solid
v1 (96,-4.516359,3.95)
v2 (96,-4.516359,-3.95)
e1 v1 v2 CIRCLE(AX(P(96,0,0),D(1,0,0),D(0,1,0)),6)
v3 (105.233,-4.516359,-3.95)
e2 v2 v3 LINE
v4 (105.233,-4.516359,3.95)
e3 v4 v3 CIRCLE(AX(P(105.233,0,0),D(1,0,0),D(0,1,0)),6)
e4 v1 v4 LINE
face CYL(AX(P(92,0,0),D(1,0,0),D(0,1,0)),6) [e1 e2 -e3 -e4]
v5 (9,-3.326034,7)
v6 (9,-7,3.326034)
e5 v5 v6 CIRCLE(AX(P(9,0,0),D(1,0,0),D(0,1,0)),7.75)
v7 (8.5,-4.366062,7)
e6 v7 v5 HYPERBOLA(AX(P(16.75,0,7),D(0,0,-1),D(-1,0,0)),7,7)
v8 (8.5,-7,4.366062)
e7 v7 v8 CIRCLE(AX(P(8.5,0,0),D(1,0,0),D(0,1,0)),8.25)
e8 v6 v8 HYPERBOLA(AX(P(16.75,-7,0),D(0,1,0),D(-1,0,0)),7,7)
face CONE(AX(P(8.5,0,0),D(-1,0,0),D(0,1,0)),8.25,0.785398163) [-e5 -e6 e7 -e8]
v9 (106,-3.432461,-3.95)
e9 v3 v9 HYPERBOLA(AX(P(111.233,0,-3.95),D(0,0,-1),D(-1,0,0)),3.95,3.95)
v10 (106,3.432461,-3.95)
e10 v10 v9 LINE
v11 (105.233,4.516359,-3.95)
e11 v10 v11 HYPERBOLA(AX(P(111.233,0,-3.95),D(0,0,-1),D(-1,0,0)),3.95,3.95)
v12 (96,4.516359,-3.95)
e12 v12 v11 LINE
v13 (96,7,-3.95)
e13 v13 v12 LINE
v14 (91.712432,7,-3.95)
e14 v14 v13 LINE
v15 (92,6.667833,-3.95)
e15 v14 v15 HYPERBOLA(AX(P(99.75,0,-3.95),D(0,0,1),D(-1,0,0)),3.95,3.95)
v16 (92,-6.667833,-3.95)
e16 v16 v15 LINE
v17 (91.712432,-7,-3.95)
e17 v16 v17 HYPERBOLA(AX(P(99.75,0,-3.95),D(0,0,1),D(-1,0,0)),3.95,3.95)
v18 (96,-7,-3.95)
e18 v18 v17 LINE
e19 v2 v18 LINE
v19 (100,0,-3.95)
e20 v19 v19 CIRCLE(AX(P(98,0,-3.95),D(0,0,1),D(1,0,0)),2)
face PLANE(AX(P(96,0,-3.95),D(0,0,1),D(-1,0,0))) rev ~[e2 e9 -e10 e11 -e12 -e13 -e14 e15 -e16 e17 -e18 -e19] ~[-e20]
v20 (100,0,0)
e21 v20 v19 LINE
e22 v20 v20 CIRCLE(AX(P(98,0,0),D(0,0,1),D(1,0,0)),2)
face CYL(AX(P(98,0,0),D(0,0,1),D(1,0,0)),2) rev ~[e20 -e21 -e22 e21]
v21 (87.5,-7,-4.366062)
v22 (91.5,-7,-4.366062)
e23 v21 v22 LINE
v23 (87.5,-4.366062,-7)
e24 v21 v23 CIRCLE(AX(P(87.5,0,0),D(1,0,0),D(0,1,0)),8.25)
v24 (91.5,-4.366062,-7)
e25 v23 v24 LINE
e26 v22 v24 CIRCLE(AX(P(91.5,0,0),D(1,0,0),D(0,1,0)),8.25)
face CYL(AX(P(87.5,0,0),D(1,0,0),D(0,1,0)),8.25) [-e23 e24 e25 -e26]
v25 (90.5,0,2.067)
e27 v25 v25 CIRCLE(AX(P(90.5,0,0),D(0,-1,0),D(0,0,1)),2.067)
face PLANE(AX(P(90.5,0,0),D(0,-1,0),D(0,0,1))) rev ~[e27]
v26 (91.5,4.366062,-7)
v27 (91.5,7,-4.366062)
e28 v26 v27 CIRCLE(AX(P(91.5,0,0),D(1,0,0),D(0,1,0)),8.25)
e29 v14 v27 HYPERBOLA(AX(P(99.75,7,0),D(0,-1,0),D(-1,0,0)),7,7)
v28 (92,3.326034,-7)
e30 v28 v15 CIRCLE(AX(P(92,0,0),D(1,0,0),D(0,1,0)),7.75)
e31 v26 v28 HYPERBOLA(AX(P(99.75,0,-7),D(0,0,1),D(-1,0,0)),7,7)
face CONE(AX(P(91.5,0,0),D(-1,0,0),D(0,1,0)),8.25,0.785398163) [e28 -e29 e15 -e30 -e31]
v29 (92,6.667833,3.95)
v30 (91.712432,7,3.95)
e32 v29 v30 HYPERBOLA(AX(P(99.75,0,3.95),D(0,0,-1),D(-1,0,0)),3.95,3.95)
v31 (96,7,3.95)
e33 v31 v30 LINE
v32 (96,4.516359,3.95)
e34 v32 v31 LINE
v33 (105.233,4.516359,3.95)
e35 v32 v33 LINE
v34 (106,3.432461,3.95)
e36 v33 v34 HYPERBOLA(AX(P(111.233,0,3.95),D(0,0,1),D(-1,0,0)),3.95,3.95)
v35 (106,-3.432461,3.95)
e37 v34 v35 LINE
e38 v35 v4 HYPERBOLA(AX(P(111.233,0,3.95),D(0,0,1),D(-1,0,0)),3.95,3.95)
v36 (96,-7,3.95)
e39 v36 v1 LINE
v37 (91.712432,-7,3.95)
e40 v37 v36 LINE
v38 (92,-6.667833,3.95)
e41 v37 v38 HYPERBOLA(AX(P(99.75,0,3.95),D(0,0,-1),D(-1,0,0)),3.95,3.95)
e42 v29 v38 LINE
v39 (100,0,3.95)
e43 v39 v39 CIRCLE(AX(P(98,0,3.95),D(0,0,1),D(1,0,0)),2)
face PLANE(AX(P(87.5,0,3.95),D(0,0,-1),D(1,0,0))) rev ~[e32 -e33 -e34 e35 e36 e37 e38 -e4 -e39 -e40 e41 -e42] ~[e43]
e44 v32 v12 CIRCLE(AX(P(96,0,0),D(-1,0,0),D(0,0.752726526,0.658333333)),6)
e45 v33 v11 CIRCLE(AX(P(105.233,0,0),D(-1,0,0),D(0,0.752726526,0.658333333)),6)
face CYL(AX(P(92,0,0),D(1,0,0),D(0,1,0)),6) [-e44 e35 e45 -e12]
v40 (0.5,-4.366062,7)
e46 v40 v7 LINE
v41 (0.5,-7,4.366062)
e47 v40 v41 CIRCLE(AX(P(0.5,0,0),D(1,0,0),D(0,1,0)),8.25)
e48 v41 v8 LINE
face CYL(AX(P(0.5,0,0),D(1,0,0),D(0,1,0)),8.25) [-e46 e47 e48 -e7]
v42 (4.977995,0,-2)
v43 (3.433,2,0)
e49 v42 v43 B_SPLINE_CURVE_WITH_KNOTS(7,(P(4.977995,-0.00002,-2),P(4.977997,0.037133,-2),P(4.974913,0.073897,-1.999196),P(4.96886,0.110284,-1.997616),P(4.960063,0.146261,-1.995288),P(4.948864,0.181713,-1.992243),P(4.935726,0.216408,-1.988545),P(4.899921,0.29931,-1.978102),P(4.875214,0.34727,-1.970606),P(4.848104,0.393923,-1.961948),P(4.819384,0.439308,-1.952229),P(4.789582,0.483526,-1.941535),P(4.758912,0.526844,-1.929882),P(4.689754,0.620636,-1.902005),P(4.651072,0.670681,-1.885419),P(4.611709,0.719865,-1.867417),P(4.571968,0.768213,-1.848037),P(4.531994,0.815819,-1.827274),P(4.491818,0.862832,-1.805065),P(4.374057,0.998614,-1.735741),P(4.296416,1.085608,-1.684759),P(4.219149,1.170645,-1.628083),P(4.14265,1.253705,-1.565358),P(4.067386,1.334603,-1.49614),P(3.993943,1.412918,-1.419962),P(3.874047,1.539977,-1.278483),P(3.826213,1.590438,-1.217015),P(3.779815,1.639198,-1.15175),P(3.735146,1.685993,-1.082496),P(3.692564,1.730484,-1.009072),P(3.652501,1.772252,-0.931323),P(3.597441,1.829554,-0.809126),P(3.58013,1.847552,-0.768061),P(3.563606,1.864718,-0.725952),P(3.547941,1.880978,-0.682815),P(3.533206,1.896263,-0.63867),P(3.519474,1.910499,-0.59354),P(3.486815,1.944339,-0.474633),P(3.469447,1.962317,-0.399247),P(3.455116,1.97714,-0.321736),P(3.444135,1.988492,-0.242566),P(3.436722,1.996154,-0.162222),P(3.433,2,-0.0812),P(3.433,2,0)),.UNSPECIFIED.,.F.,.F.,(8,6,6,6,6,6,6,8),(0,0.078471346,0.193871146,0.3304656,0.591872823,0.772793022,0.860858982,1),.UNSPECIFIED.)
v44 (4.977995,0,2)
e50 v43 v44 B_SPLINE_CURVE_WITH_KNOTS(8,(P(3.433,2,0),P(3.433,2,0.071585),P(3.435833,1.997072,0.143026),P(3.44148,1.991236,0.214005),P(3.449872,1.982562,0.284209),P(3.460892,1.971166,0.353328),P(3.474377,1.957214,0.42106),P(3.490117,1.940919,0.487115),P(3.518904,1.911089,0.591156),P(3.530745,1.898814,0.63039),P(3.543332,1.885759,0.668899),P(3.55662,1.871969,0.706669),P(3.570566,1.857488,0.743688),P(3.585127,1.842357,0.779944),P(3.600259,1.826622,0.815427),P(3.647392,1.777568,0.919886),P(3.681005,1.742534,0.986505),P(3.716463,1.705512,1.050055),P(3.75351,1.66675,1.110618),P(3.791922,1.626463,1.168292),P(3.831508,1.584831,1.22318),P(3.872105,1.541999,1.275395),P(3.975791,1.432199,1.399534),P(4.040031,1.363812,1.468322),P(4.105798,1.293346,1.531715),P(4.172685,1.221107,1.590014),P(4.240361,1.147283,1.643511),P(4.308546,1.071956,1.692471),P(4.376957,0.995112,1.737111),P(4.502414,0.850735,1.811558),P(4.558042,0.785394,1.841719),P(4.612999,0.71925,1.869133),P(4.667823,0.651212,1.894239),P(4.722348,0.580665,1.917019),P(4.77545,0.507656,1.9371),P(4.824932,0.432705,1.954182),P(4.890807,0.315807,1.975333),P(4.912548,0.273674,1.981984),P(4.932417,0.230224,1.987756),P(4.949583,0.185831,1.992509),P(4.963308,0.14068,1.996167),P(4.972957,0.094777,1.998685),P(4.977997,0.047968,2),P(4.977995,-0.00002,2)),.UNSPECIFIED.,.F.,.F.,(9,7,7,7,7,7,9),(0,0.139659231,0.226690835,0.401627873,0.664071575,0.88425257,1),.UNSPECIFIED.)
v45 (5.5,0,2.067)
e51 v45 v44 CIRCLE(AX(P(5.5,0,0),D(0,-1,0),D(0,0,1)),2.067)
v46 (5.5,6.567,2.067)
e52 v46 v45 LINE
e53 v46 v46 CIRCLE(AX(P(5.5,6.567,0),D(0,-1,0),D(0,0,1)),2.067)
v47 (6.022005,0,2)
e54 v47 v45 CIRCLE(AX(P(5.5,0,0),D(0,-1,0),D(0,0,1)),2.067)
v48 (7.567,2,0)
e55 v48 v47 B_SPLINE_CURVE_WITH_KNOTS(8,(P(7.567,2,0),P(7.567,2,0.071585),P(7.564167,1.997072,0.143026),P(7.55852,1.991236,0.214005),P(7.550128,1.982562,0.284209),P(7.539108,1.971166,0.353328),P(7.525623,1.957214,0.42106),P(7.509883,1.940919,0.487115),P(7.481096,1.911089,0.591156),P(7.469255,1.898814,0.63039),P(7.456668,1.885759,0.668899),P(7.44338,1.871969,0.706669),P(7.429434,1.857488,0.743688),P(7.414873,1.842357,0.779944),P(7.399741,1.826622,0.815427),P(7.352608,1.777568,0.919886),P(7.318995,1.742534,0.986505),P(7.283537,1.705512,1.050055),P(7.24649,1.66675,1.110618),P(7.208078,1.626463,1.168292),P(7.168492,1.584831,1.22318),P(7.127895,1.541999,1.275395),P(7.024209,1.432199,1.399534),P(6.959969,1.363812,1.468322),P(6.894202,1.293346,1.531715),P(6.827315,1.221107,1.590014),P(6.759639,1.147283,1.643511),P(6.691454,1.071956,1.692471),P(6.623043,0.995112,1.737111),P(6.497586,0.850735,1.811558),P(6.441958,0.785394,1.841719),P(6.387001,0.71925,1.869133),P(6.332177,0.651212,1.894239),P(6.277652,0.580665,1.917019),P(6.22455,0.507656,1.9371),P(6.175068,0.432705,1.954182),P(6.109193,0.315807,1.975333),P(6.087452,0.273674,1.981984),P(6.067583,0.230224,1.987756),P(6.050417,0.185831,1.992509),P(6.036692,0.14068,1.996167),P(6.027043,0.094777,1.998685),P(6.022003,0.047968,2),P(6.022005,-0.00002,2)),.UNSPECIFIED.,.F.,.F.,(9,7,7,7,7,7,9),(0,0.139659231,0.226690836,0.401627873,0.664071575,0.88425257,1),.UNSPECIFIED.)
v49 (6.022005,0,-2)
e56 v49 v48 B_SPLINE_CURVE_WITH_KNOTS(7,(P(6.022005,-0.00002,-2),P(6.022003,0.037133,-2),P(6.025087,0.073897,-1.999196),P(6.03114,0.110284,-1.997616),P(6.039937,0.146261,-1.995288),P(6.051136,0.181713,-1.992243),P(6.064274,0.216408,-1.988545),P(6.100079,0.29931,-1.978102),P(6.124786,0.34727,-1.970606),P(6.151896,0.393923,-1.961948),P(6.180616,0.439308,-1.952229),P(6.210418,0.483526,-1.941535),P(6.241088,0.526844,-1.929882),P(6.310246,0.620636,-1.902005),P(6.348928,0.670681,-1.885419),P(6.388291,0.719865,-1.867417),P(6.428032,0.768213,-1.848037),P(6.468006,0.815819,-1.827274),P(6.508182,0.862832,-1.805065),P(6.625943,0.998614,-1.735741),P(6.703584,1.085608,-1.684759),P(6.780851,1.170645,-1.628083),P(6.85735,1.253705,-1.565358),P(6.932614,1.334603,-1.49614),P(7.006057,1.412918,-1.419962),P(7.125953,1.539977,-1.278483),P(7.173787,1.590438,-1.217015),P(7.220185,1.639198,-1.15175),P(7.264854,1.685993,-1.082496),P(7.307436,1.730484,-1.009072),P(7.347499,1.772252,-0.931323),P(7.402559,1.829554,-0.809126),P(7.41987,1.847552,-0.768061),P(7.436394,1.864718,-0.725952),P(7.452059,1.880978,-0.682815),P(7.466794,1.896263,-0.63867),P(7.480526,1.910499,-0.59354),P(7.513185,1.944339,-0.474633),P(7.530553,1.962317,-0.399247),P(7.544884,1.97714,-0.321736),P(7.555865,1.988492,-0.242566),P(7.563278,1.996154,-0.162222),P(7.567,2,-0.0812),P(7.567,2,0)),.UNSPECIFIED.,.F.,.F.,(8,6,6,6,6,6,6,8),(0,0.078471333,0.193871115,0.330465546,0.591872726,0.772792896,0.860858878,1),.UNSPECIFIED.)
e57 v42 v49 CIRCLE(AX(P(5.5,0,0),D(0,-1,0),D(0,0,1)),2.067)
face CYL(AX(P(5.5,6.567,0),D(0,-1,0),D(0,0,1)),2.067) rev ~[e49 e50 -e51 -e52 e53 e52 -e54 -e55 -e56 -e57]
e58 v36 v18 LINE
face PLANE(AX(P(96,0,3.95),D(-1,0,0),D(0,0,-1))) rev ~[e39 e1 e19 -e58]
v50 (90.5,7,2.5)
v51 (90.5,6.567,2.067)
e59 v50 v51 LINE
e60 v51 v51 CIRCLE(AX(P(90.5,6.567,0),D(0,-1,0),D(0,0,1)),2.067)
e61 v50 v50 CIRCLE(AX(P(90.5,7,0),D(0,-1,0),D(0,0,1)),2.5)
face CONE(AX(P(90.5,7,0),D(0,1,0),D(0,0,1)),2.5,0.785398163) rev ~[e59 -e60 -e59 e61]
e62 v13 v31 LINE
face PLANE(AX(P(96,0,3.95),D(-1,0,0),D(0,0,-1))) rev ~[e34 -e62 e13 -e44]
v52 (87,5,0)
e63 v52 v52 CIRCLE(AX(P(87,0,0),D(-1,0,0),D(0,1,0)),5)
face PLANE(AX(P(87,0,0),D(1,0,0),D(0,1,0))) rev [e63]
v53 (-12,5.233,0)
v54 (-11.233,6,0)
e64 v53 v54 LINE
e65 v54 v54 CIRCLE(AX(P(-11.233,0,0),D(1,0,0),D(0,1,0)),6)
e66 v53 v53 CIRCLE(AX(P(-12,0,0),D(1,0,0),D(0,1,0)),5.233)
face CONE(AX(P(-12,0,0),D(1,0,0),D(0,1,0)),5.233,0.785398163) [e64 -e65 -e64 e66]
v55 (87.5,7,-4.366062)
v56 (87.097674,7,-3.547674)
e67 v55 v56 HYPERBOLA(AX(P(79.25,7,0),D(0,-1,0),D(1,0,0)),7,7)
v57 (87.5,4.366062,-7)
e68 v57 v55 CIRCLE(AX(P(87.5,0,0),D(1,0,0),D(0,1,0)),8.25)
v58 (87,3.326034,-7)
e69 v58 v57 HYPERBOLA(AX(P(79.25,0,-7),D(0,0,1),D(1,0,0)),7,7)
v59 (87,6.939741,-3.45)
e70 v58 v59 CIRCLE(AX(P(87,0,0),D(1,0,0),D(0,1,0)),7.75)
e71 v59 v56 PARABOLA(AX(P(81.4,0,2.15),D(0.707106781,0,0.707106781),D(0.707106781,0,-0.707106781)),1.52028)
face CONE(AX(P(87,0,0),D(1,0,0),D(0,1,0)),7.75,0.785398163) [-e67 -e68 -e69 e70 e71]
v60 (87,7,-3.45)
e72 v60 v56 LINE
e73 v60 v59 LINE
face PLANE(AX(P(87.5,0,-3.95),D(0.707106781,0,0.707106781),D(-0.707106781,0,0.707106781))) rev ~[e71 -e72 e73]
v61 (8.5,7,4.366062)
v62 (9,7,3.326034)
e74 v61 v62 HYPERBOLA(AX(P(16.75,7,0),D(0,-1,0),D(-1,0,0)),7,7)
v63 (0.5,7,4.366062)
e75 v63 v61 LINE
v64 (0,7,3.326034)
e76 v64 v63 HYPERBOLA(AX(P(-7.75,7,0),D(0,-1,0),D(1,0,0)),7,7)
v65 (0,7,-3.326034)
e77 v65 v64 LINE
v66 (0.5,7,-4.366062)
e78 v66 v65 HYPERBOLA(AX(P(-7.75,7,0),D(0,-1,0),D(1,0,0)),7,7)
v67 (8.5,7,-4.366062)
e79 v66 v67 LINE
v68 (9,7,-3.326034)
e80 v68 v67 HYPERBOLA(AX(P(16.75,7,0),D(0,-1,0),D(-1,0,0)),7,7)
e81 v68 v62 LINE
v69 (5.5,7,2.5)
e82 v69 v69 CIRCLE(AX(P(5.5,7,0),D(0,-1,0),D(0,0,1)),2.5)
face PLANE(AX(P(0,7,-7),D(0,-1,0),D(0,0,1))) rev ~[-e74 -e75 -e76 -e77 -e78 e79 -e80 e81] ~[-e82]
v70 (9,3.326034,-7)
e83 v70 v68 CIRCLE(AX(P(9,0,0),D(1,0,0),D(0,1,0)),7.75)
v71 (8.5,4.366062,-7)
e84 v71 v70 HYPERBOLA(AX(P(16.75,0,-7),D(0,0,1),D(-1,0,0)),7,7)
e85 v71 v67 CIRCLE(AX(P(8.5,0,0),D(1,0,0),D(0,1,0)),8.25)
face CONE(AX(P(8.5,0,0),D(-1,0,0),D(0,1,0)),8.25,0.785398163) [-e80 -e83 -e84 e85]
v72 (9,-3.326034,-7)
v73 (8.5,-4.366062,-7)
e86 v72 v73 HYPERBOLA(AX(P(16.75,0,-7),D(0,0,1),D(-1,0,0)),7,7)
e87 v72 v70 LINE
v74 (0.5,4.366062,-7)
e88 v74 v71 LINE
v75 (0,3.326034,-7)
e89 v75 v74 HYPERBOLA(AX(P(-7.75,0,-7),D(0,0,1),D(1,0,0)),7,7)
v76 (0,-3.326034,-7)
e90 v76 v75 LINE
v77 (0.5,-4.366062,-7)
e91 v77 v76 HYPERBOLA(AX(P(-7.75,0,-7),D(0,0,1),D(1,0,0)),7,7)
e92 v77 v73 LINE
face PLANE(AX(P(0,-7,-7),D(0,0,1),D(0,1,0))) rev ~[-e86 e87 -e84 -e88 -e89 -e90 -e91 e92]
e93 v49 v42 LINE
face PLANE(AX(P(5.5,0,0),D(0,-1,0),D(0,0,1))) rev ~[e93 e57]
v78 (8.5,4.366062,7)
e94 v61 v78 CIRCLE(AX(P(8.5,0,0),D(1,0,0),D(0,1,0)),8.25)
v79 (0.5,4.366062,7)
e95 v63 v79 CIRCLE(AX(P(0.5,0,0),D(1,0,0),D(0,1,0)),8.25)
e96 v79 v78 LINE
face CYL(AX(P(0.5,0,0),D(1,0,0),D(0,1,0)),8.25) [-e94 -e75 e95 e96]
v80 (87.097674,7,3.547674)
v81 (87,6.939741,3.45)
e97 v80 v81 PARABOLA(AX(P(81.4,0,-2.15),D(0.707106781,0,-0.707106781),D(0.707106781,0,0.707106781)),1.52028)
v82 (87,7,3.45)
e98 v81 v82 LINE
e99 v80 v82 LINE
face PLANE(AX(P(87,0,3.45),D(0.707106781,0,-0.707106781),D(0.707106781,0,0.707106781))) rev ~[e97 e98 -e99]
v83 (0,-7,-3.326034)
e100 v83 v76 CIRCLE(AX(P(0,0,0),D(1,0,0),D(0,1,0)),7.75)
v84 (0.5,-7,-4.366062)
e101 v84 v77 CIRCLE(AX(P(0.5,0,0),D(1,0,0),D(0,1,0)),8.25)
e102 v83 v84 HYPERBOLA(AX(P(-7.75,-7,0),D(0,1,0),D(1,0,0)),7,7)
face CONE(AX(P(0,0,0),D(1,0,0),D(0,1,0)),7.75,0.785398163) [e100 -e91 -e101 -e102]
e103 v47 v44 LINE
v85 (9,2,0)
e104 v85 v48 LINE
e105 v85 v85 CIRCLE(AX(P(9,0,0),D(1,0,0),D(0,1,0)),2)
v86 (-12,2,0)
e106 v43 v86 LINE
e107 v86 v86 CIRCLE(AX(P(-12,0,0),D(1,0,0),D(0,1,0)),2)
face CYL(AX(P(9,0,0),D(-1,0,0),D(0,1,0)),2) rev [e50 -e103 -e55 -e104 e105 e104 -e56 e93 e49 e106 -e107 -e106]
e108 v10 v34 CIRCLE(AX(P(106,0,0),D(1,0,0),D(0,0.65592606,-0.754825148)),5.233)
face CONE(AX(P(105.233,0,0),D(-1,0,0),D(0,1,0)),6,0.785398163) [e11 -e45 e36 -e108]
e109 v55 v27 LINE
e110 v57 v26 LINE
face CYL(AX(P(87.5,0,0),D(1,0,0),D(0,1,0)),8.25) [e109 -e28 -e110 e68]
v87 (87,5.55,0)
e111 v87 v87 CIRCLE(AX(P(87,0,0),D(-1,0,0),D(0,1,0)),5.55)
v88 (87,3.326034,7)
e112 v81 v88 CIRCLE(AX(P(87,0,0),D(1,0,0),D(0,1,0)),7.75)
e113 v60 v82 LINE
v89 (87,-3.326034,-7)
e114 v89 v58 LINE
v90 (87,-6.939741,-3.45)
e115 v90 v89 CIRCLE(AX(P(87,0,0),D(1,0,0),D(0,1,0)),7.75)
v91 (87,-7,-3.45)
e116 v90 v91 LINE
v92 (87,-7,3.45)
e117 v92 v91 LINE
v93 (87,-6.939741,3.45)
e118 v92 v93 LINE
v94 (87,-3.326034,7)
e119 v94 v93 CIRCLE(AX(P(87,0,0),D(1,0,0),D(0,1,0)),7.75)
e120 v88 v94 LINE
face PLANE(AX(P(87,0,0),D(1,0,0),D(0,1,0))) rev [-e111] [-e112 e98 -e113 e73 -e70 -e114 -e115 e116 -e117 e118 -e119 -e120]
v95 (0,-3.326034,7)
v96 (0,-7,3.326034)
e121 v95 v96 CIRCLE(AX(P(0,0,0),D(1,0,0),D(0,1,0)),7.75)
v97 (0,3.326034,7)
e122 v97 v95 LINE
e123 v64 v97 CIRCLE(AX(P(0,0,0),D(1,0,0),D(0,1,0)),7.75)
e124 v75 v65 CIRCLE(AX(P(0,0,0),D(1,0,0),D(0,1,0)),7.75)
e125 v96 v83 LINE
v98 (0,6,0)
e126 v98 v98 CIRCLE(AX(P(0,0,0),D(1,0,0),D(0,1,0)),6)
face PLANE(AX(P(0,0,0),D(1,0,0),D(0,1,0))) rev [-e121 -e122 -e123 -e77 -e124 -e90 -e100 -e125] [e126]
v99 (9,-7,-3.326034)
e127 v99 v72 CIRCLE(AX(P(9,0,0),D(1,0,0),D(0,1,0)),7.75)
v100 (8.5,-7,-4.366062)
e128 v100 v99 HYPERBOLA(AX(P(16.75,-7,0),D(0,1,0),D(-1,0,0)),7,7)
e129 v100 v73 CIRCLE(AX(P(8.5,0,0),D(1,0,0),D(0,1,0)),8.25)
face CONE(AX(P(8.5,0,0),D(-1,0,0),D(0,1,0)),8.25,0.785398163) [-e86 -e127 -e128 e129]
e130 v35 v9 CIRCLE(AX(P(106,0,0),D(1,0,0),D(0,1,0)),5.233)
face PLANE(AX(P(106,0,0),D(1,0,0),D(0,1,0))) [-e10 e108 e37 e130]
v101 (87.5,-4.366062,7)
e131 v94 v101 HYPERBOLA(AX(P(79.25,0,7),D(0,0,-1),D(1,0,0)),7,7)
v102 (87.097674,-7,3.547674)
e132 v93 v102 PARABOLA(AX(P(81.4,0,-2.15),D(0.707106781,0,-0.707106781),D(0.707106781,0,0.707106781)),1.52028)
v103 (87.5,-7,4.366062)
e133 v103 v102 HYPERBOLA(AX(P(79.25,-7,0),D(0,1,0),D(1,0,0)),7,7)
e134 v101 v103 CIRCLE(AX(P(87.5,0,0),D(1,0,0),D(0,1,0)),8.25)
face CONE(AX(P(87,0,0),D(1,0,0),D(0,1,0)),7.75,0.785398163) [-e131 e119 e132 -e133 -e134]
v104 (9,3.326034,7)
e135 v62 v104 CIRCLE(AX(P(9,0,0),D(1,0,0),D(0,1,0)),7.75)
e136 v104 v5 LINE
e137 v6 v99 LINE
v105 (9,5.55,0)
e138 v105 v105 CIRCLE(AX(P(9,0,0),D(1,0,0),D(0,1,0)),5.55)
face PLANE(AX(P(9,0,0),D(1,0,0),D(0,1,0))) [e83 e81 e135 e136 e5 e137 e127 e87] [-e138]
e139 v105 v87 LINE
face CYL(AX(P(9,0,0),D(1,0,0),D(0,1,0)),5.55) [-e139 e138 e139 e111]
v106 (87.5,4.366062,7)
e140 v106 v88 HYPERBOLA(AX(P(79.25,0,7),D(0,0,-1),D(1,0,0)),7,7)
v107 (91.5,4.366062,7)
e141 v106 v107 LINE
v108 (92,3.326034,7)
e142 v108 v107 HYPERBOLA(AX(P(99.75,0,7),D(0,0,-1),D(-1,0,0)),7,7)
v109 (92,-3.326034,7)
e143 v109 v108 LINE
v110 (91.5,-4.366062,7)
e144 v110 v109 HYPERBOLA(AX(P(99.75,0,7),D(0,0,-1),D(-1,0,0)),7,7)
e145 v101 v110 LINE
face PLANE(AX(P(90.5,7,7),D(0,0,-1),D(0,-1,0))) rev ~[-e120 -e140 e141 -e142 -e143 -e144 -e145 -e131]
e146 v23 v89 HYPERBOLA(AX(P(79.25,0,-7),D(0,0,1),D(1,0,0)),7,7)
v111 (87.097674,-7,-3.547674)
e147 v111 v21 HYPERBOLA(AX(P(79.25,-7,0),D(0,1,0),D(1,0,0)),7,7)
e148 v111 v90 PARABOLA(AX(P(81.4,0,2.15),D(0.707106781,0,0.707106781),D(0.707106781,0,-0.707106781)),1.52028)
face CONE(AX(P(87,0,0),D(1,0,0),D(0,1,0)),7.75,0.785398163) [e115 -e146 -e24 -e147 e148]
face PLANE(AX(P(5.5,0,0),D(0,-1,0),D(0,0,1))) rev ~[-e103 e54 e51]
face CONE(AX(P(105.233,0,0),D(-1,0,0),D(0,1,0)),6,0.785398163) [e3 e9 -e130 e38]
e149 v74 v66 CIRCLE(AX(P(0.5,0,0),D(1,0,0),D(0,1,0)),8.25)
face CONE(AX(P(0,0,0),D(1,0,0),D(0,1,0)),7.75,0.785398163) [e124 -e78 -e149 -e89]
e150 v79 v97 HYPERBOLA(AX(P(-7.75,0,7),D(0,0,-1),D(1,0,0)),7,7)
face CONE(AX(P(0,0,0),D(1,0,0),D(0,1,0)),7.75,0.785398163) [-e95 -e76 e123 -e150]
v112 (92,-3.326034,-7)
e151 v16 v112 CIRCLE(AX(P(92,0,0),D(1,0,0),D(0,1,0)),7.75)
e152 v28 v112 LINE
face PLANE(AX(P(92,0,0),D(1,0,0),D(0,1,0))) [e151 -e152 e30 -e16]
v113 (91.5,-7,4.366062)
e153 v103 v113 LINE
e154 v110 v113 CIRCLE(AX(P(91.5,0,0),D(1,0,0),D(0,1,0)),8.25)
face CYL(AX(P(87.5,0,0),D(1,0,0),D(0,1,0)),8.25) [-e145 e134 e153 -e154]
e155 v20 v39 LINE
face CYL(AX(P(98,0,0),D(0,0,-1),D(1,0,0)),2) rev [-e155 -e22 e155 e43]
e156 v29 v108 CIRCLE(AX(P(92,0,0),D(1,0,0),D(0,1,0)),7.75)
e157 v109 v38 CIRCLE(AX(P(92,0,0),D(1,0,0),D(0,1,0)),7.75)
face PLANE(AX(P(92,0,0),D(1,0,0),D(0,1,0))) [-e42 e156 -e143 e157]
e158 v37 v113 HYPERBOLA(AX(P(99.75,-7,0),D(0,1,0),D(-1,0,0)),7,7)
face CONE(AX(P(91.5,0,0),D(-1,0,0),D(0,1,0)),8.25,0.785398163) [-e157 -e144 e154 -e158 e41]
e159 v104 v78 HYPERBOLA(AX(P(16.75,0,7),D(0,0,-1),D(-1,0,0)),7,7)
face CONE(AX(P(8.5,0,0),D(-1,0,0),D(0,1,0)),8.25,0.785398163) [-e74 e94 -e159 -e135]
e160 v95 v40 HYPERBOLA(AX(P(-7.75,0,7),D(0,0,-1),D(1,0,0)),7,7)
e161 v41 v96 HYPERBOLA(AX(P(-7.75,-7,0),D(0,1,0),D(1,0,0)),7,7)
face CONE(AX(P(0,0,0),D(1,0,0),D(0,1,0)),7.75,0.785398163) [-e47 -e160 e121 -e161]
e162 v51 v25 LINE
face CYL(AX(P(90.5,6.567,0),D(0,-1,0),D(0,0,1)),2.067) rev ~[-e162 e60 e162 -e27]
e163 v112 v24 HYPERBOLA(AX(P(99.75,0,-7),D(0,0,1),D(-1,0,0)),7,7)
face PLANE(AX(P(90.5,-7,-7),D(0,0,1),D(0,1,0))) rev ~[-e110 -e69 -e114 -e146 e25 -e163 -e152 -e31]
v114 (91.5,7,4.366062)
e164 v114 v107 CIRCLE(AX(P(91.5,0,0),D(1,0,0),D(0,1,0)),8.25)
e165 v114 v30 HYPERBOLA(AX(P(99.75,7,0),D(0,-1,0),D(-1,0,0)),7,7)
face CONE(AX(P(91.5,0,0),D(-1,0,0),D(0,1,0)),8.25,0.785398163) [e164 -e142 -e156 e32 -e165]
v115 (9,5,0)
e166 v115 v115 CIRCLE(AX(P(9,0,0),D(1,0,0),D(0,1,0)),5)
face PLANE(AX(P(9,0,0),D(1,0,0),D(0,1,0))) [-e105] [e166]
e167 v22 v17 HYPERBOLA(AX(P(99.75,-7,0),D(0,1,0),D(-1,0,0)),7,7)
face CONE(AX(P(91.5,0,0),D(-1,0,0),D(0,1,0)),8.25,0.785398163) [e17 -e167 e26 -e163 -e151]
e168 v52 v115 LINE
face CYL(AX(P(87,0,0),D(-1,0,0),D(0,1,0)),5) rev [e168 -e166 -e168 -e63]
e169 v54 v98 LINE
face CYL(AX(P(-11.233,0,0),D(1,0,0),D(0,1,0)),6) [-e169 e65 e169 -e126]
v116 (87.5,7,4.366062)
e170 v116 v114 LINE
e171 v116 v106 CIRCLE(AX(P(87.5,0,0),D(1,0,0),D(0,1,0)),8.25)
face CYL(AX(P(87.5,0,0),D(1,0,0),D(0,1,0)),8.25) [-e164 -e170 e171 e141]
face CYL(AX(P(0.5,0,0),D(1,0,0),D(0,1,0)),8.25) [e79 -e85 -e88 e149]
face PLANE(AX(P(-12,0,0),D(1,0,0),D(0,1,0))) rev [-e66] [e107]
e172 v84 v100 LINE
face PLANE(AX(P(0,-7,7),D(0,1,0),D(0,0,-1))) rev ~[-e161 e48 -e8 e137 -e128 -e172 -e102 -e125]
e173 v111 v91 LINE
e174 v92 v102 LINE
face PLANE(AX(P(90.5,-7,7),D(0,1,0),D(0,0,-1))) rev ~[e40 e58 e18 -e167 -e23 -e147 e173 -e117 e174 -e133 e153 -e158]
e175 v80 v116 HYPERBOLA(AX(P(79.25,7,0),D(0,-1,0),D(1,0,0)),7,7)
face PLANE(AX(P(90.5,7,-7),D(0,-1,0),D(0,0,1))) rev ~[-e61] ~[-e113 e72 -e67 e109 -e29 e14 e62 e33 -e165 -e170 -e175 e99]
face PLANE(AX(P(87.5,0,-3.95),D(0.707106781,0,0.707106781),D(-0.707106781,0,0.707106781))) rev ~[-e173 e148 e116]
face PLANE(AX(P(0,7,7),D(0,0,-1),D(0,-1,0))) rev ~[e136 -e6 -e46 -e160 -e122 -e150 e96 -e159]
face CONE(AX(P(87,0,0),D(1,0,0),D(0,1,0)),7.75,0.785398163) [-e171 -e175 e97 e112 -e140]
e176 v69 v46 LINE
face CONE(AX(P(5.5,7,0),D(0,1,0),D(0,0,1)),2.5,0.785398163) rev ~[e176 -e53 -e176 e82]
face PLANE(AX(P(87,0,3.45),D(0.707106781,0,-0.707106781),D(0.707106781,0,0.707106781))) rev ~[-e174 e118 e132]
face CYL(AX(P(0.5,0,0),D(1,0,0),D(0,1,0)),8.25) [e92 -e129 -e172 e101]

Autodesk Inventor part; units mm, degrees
sketch "Sketch_2" plane through (0, 0, 0) normal (0, 0, 1) x (1, 0, 0)
  line L0 (106, 0) -> (-12, 0)
  line L1 (87, 0) -> (87, 5)
  line L2 (87, 5) -> (9, 5)
  line L3 (9, 5) -> (9, 2)
  line L4 (9, 2) -> (-12, 2)
  line L5 (-12, 2) -> (-12, 5.233)
  line L6 (-12, 5.233) -> (-11.233, 6)
  line L7 (-11.233, 6) -> (0, 6)
  line L8 (0, 6) -> (0, 7.75)
  line L9 (0, 7.75) -> (0.5, 8.25)
  line L10 (0.5, 8.25) -> (8.5, 8.25)
  line L11 (8.5, 8.25) -> (9, 7.75)
  line L12 (9, 7.75) -> (9, 5.55)
  line L13 (9, 5.55) -> (87, 5.55)
  line L14 (87, 5.55) -> (87, 7.75)
  line L15 (87, 7.75) -> (87.5, 8.25)
  line L16 (87.5, 8.25) -> (91.5, 8.25)
  line L17 (91.5, 8.25) -> (92, 7.75)
  line L18 (92, 7.75) -> (92, 6)
  line L19 (92, 6) -> (105.233, 6)
  line L20 (105.233, 6) -> (106, 5.233)
  line L21 (106, 5.233) -> (106, 0)
  line L22 (106, 0) -> (87, 0)
revolve "Revolution1" add sketch "Sketch_2" angle 360 about axis through (106, 0, 0) along (1, 0, 0)
thread "Thread1" size "M12x1.25" class "6g" standard "ISO Metric profile" length 9.733
thread "Thread2" size "M12x1.25" class "6g" standard "ISO Metric profile" length 7.733
sketch "Sketch_3" plane through (0, 0, 0) normal (0, 1, 0) x (-1, 0, 0)
  line L0 (-87, 3.45) -> (-87.5, 3.95)
  line L1 (-87.5, 3.95) -> (-96, 3.95)
  line L2 (-96, 3.95) -> (-96, -3.95)
  line L3 (-96, -3.95) -> (-87.5, -3.95)
  line L4 (-87.5, -3.95) -> (-87, -3.45)
  line L5 (-87, -3.45) -> (-87, 3.45)
extrude "Extrusion1" add sketch "Sketch_3" along normal mid plane 16.5
sketch "Sketch_4" plane through (0, 0, 0) normal (0, 1, 0) x (-1, 0, 0)
  line L0 (-92, 13.95) -> (-111, 13.95)
  line L1 (-111, 13.95) -> (-111, -13.95)
  line L2 (-111, -13.95) -> (-92, -13.95)
  line L3 (-92, -13.95) -> (-92, -3.95)
  line L4 (-92, -3.95) -> (-106, -3.95)
  line L5 (-106, -3.95) -> (-106, 3.95)
  line L6 (-106, 3.95) -> (-92, 3.95)
  line L7 (-92, 3.95) -> (-92, 13.95)
extrude "Extrusion2" cut sketch "Sketch_4" along normal mid plane 16.5
sketch "Sketch_5" plane through (0, 0, 0) normal (1, 0, 0) x (0, 1, 0)
  line L0 (-14, 14) -> (-14, -14)
  line L1 (-14, -14) -> (14, -14)
  line L2 (14, -14) -> (14, 14)
  line L3 (14, 14) -> (-14, 14)
  line L4 (-7, 7) -> (-7, -7)
  line L5 (-7, -7) -> (7, -7)
  line L6 (7, -7) -> (7, 7)
  line L7 (7, 7) -> (-7, 7)
extrude "Extrusion3" cut sketch "Sketch_5" along normal blind 9
sketch "Sketch_6" plane through (90.5, 0, 0) normal (1, 0, 0) x (0, 0, -1)
  line L0 (-14, -14) -> (14, -14)
  line L1 (14, -14) -> (14, 14)
  line L2 (14, 14) -> (-14, 14)
  line L3 (-14, 14) -> (-14, -14)
  line L4 (-7, -7) -> (7, -7)
  line L5 (7, -7) -> (7, 7)
  line L6 (7, 7) -> (-7, 7)
  line L7 (-7, 7) -> (-7, -7)
extrude "Extrusion4" cut sketch "Sketch_6" along normal mid plane 18
sketch "Sketch6" plane through (0.5, 7, -4.3661) normal (0, 1, 0) x (1, 0, 0)
  point P0 (5, -4.3661)
hole "Hole1" at (5.5, 7, 0) direction (0, -1, 0) diameter 4.134 depth 7 countersink diameter 5 countersink angle 90 thread size "M5x0.8" class "6H" standard "ISO Metric profile"
sketch "Sketch7" plane through (91.7124, 7, 3.95) normal (0, 1, 0) x (1, 0, 0)
  point P0 (-1.2124, 3.95)
hole "Hole2" at (90.5, 7, 0) direction (0, -1, 0) diameter 4.134 depth 7 countersink diameter 5 countersink angle 90 thread size "M5x0.8" class "6H" standard "ISO Metric profile"
sketch "Sketch_9" plane through (0, 0, 0) normal (0, 0, 1) x (1, 0, 0)
  circle A0 centre (98, 0) radius 2
extrude "Extrusion5" cut sketch "Sketch_9" along normal mid plane 7.9
ref_plane "AC_XY" through (98, 0, 0) normal (0, 0, 1) x (1, 0, 0)
ref_plane "AC_YZ" through (98, 0, 0) normal (1, 0, 0) x (0, 1, 0)
ref_plane "AC_ZX" through (98, 0, 0) normal (0, 1, 0) x (0, 0, 1)
ref_plane "DUMMY_XY" through (0, 0, 0) normal (0, 1, 0) x (1, 0, 0)
ref_plane "DUMMY_YZ" through (0, 0, 0) normal (1, 0, 0) x (0, 0, -1)
ref_plane "DUMMY_ZX" through (0, 0, 0) normal (0, 0, -1) x (0, 1, 0)
ref_plane "FM_XY" through (0, 0, 0) normal (-1, 0, 0) x (0, 0, -1)
ref_plane "FM_YZ" through (0, 0, 0) normal (0, 0, -1) x (0, -1, 0)
ref_plane "FM_ZX" through (0, 0, 0) normal (0, -1, 0) x (-1, 0, 0)
ref_plane "FMFM_XY" through (0, 0, 0) normal (-1, 0, 0) x (0, 0, -1)
ref_plane "FMFM_YZ" through (0, 0, 0) normal (0, 0, -1) x (0, -1, 0)
ref_plane "FMFM_ZX" through (0, 0, 0) normal (0, -1, 0) x (-1, 0, 0)
ref_plane "NUT_XY" through (-2, 0, 0) normal (-1, 0, 0) x (0, 0, -1)
ref_plane "NUT_YZ" through (-2, 0, 0) normal (0, 0, -1) x (0, -1, 0)
ref_plane "NUT_ZX" through (-2, 0, 0) normal (0, -1, 0) x (-1, 0, 0)
ref_plane "POINT_XY" through (-12, 0, 0) normal (-1, 0, 0) x (0, 0, -1)
ref_plane "POINT_YZ" through (-12, 0, 0) normal (0, 0, -1) x (0, -1, 0)
ref_plane "POINT_ZX" through (-12, 0, 0) normal (0, -1, 0) x (-1, 0, 0)
ref_plane "RM_XY" through (96, 0, 0) normal (1, 0, 0) x (0, 0, -1)
ref_plane "RM_YZ" through (96, 0, 0) normal (0, 0, -1) x (0, 1, 0)
ref_plane "RM_ZX" through (96, 0, 0) normal (0, 1, 0) x (1, 0, 0)
ref_plane "S_XY" through (26, 0, 0) normal (1, 0, 0) x (0, 0, -1)
ref_plane "S_YZ" through (26, 0, 0) normal (0, 0, -1) x (0, 1, 0)
ref_plane "S_ZX" through (26, 0, 0) normal (0, 1, 0) x (1, 0, 0)
ref_plane "dim_0_XY" through (0, 0, 0) normal (0, 0, 1) x (1, 0, 0)
ref_plane "dim_0_YZ" through (0, 0, 0) normal (1, 0, 0) x (0, 1, 0)
ref_plane "dim_0_ZX" through (0, 0, 0) normal (0, 1, 0) x (0, 0, 1)
ref_plane "dim_bex1_XY" through (105.233, 6, 0) normal (0, 0, 1) x (1, 0, 0)
ref_plane "dim_bex1_YZ" through (105.233, 6, 0) normal (1, 0, 0) x (0, 1, 0)
ref_plane "dim_bex1_ZX" through (105.233, 6, 0) normal (0, 1, 0) x (0, 0, 1)
ref_plane "dim_bex2_XY" through (105.233, -6, 0) normal (0, 0, 1) x (1, 0, 0)
ref_plane "dim_bex2_YZ" through (105.233, -6, 0) normal (1, 0, 0) x (0, 1, 0)
ref_plane "dim_bex2_ZX" through (105.233, -6, 0) normal (0, 1, 0) x (0, 0, 1)
ref_plane "dim_cd1_XY" through (98, 2, 0) normal (0, 0, 1) x (1, 0, 0)
ref_plane "dim_cd1_YZ" through (98, 2, 0) normal (1, 0, 0) x (0, 1, 0)
ref_plane "dim_cd1_ZX" through (98, 2, 0) normal (0, 1, 0) x (0, 0, 1)
ref_plane "dim_cd2_XY" through (98, -2, 0) normal (0, 0, 1) x (1, 0, 0)
ref_plane "dim_cd2_YZ" through (98, -2, 0) normal (1, 0, 0) x (0, 1, 0)
ref_plane "dim_cd2_ZX" through (98, -2, 0) normal (0, 1, 0) x (0, 0, 1)
ref_plane "dim_d1_XY" through (18, 5.55, 0) normal (0, 0, 1) x (1, 0, 0)
ref_plane "dim_d1_YZ" through (18, 5.55, 0) normal (1, 0, 0) x (0, 1, 0)
ref_plane "dim_d1_ZX" through (18, 5.55, 0) normal (0, 1, 0) x (0, 0, 1)
ref_plane "dim_d2_XY" through (18, -5.55, 0) normal (0, 0, 1) x (1, 0, 0)
ref_plane "dim_d2_YZ" through (18, -5.55, 0) normal (1, 0, 0) x (0, 1, 0)
ref_plane "dim_d2_ZX" through (18, -5.55, 0) normal (0, 1, 0) x (0, 0, 1)
ref_plane "dim_ee_XY" through (5.5, 7, 0) normal (0, 0, 1) x (1, 0, 0)
ref_plane "dim_ee_YZ" through (5.5, 7, 0) normal (1, 0, 0) x (0, 1, 0)
ref_plane "dim_ee_ZX" through (5.5, 7, 0) normal (0, 1, 0) x (0, 0, 1)
ref_plane "dim_ee1_XY" through (3, 7, 0) normal (0, 0, 1) x (1, 0, 0)
ref_plane "dim_ee1_YZ" through (3, 7, 0) normal (1, 0, 0) x (0, 1, 0)
ref_plane "dim_ee1_ZX" through (3, 7, 0) normal (0, 1, 0) x (0, 0, 1)
ref_plane "dim_ee2_XY" through (8, 7, 0) normal (0, 0, 1) x (1, 0, 0)
ref_plane "dim_ee2_YZ" through (8, 7, 0) normal (1, 0, 0) x (0, 1, 0)
ref_plane "dim_ee2_ZX" through (8, 7, 0) normal (0, 1, 0) x (0, 0, 1)
ref_plane "dim_ew1_XY" through (96, 0, -3.95) normal (0, 1, 0) x (1, 0, 0)
ref_plane "dim_ew1_YZ" through (96, 0, -3.95) normal (1, 0, 0) x (0, 0, -1)
ref_plane "dim_ew1_ZX" through (96, 0, -3.95) normal (0, 0, -1) x (0, 1, 0)
ref_plane "dim_ew2_XY" through (96, 0, 3.95) normal (0, 1, 0) x (1, 0, 0)
ref_plane "dim_ew2_YZ" through (96, 0, 3.95) normal (1, 0, 0) x (0, 0, -1)
ref_plane "dim_ew2_ZX" through (96, 0, 3.95) normal (0, 0, -1) x (0, 1, 0)
ref_plane "dim_g_XY" through (9, 0, 0) normal (0, 0, 1) x (1, 0, 0)
ref_plane "dim_g_YZ" through (9, 0, 0) normal (1, 0, 0) x (0, 1, 0)
ref_plane "dim_g_ZX" through (9, 0, 0) normal (0, 1, 0) x (0, 0, 1)
ref_plane "dim_gew_bottom_XY" through (-12, -6, 0) normal (0, 0, 1) x (1, 0, 0)
ref_plane "dim_gew_bottom_YZ" through (-12, -6, 0) normal (1, 0, 0) x (0, 1, 0)
ref_plane "dim_gew_bottom_ZX" through (-12, -6, 0) normal (0, 1, 0) x (0, 0, 1)
ref_plane "dim_gew_top_XY" through (-12, 6, 0) normal (0, 0, 1) x (1, 0, 0)
ref_plane "dim_gew_top_YZ" through (-12, 6, 0) normal (1, 0, 0) x (0, 1, 0)
ref_plane "dim_gew_top_ZX" through (-12, 6, 0) normal (0, 1, 0) x (0, 0, 1)
ref_plane "dim_kv41_XY" through (0, 0, 7) normal (1, 0, 0) x (0, 0, -1)
ref_plane "dim_kv41_YZ" through (0, 0, 7) normal (0, 0, -1) x (0, 1, 0)
ref_plane "dim_kv41_ZX" through (0, 0, 7) normal (0, 1, 0) x (1, 0, 0)
ref_plane "dim_kv42_XY" through (0, 0, -7) normal (1, 0, 0) x (0, 0, -1)
ref_plane "dim_kv42_YZ" through (0, 0, -7) normal (0, 0, -1) x (0, 1, 0)
ref_plane "dim_kv42_ZX" through (0, 0, -7) normal (0, 1, 0) x (1, 0, 0)
ref_plane "dim_l_XY" through (92, 6, 0) normal (0, 0, 1) x (1, 0, 0)
ref_plane "dim_l_YZ" through (92, 6, 0) normal (1, 0, 0) x (0, 1, 0)
ref_plane "dim_l_ZX" through (92, 6, 0) normal (0, 1, 0) x (0, 0, 1)
ref_plane "dim_left_XY" through (-12, 0, 0) normal (0, 0, 1) x (1, 0, 0)
ref_plane "dim_left_YZ" through (-12, 0, 0) normal (1, 0, 0) x (0, 1, 0)
ref_plane "dim_left_ZX" through (-12, 0, 0) normal (0, 1, 0) x (0, 0, 1)
ref_plane "dim_right_XY" through (106, 0, 0) normal (0, 0, 1) x (1, 0, 0)
ref_plane "dim_right_YZ" through (106, 0, 0) normal (1, 0, 0) x (0, 1, 0)
ref_plane "dim_right_ZX" through (106, 0, 0) normal (0, 1, 0) x (0, 0, 1)
ref_plane "dim_right_g_XY" through (87, 0, 0) normal (0, 0, 1) x (1, 0, 0)
ref_plane "dim_right_g_YZ" through (87, 0, 0) normal (1, 0, 0) x (0, 1, 0)
ref_plane "dim_right_g_ZX" through (87, 0, 0) normal (0, 1, 0) x (0, 0, 1)
ref_plane "dim_right_hub_XY" through (96, 0, 0) normal (0, 0, 1) x (1, 0, 0)
ref_plane "dim_right_hub_YZ" through (96, 0, 0) normal (1, 0, 0) x (0, 1, 0)
ref_plane "dim_right_hub_ZX" through (96, 0, 0) normal (0, 1, 0) x (0, 0, 1)
ref_plane "dim_va_XY" through (97.5, 0, 0) normal (0, 0, 1) x (1, 0, 0)
ref_plane "dim_va_YZ" through (97.5, 0, 0) normal (1, 0, 0) x (0, 1, 0)
ref_plane "dim_va_ZX" through (97.5, 0, 0) normal (0, 1, 0) x (0, 0, 1)
properties part number "RM/8010/M/50_B0__B"
